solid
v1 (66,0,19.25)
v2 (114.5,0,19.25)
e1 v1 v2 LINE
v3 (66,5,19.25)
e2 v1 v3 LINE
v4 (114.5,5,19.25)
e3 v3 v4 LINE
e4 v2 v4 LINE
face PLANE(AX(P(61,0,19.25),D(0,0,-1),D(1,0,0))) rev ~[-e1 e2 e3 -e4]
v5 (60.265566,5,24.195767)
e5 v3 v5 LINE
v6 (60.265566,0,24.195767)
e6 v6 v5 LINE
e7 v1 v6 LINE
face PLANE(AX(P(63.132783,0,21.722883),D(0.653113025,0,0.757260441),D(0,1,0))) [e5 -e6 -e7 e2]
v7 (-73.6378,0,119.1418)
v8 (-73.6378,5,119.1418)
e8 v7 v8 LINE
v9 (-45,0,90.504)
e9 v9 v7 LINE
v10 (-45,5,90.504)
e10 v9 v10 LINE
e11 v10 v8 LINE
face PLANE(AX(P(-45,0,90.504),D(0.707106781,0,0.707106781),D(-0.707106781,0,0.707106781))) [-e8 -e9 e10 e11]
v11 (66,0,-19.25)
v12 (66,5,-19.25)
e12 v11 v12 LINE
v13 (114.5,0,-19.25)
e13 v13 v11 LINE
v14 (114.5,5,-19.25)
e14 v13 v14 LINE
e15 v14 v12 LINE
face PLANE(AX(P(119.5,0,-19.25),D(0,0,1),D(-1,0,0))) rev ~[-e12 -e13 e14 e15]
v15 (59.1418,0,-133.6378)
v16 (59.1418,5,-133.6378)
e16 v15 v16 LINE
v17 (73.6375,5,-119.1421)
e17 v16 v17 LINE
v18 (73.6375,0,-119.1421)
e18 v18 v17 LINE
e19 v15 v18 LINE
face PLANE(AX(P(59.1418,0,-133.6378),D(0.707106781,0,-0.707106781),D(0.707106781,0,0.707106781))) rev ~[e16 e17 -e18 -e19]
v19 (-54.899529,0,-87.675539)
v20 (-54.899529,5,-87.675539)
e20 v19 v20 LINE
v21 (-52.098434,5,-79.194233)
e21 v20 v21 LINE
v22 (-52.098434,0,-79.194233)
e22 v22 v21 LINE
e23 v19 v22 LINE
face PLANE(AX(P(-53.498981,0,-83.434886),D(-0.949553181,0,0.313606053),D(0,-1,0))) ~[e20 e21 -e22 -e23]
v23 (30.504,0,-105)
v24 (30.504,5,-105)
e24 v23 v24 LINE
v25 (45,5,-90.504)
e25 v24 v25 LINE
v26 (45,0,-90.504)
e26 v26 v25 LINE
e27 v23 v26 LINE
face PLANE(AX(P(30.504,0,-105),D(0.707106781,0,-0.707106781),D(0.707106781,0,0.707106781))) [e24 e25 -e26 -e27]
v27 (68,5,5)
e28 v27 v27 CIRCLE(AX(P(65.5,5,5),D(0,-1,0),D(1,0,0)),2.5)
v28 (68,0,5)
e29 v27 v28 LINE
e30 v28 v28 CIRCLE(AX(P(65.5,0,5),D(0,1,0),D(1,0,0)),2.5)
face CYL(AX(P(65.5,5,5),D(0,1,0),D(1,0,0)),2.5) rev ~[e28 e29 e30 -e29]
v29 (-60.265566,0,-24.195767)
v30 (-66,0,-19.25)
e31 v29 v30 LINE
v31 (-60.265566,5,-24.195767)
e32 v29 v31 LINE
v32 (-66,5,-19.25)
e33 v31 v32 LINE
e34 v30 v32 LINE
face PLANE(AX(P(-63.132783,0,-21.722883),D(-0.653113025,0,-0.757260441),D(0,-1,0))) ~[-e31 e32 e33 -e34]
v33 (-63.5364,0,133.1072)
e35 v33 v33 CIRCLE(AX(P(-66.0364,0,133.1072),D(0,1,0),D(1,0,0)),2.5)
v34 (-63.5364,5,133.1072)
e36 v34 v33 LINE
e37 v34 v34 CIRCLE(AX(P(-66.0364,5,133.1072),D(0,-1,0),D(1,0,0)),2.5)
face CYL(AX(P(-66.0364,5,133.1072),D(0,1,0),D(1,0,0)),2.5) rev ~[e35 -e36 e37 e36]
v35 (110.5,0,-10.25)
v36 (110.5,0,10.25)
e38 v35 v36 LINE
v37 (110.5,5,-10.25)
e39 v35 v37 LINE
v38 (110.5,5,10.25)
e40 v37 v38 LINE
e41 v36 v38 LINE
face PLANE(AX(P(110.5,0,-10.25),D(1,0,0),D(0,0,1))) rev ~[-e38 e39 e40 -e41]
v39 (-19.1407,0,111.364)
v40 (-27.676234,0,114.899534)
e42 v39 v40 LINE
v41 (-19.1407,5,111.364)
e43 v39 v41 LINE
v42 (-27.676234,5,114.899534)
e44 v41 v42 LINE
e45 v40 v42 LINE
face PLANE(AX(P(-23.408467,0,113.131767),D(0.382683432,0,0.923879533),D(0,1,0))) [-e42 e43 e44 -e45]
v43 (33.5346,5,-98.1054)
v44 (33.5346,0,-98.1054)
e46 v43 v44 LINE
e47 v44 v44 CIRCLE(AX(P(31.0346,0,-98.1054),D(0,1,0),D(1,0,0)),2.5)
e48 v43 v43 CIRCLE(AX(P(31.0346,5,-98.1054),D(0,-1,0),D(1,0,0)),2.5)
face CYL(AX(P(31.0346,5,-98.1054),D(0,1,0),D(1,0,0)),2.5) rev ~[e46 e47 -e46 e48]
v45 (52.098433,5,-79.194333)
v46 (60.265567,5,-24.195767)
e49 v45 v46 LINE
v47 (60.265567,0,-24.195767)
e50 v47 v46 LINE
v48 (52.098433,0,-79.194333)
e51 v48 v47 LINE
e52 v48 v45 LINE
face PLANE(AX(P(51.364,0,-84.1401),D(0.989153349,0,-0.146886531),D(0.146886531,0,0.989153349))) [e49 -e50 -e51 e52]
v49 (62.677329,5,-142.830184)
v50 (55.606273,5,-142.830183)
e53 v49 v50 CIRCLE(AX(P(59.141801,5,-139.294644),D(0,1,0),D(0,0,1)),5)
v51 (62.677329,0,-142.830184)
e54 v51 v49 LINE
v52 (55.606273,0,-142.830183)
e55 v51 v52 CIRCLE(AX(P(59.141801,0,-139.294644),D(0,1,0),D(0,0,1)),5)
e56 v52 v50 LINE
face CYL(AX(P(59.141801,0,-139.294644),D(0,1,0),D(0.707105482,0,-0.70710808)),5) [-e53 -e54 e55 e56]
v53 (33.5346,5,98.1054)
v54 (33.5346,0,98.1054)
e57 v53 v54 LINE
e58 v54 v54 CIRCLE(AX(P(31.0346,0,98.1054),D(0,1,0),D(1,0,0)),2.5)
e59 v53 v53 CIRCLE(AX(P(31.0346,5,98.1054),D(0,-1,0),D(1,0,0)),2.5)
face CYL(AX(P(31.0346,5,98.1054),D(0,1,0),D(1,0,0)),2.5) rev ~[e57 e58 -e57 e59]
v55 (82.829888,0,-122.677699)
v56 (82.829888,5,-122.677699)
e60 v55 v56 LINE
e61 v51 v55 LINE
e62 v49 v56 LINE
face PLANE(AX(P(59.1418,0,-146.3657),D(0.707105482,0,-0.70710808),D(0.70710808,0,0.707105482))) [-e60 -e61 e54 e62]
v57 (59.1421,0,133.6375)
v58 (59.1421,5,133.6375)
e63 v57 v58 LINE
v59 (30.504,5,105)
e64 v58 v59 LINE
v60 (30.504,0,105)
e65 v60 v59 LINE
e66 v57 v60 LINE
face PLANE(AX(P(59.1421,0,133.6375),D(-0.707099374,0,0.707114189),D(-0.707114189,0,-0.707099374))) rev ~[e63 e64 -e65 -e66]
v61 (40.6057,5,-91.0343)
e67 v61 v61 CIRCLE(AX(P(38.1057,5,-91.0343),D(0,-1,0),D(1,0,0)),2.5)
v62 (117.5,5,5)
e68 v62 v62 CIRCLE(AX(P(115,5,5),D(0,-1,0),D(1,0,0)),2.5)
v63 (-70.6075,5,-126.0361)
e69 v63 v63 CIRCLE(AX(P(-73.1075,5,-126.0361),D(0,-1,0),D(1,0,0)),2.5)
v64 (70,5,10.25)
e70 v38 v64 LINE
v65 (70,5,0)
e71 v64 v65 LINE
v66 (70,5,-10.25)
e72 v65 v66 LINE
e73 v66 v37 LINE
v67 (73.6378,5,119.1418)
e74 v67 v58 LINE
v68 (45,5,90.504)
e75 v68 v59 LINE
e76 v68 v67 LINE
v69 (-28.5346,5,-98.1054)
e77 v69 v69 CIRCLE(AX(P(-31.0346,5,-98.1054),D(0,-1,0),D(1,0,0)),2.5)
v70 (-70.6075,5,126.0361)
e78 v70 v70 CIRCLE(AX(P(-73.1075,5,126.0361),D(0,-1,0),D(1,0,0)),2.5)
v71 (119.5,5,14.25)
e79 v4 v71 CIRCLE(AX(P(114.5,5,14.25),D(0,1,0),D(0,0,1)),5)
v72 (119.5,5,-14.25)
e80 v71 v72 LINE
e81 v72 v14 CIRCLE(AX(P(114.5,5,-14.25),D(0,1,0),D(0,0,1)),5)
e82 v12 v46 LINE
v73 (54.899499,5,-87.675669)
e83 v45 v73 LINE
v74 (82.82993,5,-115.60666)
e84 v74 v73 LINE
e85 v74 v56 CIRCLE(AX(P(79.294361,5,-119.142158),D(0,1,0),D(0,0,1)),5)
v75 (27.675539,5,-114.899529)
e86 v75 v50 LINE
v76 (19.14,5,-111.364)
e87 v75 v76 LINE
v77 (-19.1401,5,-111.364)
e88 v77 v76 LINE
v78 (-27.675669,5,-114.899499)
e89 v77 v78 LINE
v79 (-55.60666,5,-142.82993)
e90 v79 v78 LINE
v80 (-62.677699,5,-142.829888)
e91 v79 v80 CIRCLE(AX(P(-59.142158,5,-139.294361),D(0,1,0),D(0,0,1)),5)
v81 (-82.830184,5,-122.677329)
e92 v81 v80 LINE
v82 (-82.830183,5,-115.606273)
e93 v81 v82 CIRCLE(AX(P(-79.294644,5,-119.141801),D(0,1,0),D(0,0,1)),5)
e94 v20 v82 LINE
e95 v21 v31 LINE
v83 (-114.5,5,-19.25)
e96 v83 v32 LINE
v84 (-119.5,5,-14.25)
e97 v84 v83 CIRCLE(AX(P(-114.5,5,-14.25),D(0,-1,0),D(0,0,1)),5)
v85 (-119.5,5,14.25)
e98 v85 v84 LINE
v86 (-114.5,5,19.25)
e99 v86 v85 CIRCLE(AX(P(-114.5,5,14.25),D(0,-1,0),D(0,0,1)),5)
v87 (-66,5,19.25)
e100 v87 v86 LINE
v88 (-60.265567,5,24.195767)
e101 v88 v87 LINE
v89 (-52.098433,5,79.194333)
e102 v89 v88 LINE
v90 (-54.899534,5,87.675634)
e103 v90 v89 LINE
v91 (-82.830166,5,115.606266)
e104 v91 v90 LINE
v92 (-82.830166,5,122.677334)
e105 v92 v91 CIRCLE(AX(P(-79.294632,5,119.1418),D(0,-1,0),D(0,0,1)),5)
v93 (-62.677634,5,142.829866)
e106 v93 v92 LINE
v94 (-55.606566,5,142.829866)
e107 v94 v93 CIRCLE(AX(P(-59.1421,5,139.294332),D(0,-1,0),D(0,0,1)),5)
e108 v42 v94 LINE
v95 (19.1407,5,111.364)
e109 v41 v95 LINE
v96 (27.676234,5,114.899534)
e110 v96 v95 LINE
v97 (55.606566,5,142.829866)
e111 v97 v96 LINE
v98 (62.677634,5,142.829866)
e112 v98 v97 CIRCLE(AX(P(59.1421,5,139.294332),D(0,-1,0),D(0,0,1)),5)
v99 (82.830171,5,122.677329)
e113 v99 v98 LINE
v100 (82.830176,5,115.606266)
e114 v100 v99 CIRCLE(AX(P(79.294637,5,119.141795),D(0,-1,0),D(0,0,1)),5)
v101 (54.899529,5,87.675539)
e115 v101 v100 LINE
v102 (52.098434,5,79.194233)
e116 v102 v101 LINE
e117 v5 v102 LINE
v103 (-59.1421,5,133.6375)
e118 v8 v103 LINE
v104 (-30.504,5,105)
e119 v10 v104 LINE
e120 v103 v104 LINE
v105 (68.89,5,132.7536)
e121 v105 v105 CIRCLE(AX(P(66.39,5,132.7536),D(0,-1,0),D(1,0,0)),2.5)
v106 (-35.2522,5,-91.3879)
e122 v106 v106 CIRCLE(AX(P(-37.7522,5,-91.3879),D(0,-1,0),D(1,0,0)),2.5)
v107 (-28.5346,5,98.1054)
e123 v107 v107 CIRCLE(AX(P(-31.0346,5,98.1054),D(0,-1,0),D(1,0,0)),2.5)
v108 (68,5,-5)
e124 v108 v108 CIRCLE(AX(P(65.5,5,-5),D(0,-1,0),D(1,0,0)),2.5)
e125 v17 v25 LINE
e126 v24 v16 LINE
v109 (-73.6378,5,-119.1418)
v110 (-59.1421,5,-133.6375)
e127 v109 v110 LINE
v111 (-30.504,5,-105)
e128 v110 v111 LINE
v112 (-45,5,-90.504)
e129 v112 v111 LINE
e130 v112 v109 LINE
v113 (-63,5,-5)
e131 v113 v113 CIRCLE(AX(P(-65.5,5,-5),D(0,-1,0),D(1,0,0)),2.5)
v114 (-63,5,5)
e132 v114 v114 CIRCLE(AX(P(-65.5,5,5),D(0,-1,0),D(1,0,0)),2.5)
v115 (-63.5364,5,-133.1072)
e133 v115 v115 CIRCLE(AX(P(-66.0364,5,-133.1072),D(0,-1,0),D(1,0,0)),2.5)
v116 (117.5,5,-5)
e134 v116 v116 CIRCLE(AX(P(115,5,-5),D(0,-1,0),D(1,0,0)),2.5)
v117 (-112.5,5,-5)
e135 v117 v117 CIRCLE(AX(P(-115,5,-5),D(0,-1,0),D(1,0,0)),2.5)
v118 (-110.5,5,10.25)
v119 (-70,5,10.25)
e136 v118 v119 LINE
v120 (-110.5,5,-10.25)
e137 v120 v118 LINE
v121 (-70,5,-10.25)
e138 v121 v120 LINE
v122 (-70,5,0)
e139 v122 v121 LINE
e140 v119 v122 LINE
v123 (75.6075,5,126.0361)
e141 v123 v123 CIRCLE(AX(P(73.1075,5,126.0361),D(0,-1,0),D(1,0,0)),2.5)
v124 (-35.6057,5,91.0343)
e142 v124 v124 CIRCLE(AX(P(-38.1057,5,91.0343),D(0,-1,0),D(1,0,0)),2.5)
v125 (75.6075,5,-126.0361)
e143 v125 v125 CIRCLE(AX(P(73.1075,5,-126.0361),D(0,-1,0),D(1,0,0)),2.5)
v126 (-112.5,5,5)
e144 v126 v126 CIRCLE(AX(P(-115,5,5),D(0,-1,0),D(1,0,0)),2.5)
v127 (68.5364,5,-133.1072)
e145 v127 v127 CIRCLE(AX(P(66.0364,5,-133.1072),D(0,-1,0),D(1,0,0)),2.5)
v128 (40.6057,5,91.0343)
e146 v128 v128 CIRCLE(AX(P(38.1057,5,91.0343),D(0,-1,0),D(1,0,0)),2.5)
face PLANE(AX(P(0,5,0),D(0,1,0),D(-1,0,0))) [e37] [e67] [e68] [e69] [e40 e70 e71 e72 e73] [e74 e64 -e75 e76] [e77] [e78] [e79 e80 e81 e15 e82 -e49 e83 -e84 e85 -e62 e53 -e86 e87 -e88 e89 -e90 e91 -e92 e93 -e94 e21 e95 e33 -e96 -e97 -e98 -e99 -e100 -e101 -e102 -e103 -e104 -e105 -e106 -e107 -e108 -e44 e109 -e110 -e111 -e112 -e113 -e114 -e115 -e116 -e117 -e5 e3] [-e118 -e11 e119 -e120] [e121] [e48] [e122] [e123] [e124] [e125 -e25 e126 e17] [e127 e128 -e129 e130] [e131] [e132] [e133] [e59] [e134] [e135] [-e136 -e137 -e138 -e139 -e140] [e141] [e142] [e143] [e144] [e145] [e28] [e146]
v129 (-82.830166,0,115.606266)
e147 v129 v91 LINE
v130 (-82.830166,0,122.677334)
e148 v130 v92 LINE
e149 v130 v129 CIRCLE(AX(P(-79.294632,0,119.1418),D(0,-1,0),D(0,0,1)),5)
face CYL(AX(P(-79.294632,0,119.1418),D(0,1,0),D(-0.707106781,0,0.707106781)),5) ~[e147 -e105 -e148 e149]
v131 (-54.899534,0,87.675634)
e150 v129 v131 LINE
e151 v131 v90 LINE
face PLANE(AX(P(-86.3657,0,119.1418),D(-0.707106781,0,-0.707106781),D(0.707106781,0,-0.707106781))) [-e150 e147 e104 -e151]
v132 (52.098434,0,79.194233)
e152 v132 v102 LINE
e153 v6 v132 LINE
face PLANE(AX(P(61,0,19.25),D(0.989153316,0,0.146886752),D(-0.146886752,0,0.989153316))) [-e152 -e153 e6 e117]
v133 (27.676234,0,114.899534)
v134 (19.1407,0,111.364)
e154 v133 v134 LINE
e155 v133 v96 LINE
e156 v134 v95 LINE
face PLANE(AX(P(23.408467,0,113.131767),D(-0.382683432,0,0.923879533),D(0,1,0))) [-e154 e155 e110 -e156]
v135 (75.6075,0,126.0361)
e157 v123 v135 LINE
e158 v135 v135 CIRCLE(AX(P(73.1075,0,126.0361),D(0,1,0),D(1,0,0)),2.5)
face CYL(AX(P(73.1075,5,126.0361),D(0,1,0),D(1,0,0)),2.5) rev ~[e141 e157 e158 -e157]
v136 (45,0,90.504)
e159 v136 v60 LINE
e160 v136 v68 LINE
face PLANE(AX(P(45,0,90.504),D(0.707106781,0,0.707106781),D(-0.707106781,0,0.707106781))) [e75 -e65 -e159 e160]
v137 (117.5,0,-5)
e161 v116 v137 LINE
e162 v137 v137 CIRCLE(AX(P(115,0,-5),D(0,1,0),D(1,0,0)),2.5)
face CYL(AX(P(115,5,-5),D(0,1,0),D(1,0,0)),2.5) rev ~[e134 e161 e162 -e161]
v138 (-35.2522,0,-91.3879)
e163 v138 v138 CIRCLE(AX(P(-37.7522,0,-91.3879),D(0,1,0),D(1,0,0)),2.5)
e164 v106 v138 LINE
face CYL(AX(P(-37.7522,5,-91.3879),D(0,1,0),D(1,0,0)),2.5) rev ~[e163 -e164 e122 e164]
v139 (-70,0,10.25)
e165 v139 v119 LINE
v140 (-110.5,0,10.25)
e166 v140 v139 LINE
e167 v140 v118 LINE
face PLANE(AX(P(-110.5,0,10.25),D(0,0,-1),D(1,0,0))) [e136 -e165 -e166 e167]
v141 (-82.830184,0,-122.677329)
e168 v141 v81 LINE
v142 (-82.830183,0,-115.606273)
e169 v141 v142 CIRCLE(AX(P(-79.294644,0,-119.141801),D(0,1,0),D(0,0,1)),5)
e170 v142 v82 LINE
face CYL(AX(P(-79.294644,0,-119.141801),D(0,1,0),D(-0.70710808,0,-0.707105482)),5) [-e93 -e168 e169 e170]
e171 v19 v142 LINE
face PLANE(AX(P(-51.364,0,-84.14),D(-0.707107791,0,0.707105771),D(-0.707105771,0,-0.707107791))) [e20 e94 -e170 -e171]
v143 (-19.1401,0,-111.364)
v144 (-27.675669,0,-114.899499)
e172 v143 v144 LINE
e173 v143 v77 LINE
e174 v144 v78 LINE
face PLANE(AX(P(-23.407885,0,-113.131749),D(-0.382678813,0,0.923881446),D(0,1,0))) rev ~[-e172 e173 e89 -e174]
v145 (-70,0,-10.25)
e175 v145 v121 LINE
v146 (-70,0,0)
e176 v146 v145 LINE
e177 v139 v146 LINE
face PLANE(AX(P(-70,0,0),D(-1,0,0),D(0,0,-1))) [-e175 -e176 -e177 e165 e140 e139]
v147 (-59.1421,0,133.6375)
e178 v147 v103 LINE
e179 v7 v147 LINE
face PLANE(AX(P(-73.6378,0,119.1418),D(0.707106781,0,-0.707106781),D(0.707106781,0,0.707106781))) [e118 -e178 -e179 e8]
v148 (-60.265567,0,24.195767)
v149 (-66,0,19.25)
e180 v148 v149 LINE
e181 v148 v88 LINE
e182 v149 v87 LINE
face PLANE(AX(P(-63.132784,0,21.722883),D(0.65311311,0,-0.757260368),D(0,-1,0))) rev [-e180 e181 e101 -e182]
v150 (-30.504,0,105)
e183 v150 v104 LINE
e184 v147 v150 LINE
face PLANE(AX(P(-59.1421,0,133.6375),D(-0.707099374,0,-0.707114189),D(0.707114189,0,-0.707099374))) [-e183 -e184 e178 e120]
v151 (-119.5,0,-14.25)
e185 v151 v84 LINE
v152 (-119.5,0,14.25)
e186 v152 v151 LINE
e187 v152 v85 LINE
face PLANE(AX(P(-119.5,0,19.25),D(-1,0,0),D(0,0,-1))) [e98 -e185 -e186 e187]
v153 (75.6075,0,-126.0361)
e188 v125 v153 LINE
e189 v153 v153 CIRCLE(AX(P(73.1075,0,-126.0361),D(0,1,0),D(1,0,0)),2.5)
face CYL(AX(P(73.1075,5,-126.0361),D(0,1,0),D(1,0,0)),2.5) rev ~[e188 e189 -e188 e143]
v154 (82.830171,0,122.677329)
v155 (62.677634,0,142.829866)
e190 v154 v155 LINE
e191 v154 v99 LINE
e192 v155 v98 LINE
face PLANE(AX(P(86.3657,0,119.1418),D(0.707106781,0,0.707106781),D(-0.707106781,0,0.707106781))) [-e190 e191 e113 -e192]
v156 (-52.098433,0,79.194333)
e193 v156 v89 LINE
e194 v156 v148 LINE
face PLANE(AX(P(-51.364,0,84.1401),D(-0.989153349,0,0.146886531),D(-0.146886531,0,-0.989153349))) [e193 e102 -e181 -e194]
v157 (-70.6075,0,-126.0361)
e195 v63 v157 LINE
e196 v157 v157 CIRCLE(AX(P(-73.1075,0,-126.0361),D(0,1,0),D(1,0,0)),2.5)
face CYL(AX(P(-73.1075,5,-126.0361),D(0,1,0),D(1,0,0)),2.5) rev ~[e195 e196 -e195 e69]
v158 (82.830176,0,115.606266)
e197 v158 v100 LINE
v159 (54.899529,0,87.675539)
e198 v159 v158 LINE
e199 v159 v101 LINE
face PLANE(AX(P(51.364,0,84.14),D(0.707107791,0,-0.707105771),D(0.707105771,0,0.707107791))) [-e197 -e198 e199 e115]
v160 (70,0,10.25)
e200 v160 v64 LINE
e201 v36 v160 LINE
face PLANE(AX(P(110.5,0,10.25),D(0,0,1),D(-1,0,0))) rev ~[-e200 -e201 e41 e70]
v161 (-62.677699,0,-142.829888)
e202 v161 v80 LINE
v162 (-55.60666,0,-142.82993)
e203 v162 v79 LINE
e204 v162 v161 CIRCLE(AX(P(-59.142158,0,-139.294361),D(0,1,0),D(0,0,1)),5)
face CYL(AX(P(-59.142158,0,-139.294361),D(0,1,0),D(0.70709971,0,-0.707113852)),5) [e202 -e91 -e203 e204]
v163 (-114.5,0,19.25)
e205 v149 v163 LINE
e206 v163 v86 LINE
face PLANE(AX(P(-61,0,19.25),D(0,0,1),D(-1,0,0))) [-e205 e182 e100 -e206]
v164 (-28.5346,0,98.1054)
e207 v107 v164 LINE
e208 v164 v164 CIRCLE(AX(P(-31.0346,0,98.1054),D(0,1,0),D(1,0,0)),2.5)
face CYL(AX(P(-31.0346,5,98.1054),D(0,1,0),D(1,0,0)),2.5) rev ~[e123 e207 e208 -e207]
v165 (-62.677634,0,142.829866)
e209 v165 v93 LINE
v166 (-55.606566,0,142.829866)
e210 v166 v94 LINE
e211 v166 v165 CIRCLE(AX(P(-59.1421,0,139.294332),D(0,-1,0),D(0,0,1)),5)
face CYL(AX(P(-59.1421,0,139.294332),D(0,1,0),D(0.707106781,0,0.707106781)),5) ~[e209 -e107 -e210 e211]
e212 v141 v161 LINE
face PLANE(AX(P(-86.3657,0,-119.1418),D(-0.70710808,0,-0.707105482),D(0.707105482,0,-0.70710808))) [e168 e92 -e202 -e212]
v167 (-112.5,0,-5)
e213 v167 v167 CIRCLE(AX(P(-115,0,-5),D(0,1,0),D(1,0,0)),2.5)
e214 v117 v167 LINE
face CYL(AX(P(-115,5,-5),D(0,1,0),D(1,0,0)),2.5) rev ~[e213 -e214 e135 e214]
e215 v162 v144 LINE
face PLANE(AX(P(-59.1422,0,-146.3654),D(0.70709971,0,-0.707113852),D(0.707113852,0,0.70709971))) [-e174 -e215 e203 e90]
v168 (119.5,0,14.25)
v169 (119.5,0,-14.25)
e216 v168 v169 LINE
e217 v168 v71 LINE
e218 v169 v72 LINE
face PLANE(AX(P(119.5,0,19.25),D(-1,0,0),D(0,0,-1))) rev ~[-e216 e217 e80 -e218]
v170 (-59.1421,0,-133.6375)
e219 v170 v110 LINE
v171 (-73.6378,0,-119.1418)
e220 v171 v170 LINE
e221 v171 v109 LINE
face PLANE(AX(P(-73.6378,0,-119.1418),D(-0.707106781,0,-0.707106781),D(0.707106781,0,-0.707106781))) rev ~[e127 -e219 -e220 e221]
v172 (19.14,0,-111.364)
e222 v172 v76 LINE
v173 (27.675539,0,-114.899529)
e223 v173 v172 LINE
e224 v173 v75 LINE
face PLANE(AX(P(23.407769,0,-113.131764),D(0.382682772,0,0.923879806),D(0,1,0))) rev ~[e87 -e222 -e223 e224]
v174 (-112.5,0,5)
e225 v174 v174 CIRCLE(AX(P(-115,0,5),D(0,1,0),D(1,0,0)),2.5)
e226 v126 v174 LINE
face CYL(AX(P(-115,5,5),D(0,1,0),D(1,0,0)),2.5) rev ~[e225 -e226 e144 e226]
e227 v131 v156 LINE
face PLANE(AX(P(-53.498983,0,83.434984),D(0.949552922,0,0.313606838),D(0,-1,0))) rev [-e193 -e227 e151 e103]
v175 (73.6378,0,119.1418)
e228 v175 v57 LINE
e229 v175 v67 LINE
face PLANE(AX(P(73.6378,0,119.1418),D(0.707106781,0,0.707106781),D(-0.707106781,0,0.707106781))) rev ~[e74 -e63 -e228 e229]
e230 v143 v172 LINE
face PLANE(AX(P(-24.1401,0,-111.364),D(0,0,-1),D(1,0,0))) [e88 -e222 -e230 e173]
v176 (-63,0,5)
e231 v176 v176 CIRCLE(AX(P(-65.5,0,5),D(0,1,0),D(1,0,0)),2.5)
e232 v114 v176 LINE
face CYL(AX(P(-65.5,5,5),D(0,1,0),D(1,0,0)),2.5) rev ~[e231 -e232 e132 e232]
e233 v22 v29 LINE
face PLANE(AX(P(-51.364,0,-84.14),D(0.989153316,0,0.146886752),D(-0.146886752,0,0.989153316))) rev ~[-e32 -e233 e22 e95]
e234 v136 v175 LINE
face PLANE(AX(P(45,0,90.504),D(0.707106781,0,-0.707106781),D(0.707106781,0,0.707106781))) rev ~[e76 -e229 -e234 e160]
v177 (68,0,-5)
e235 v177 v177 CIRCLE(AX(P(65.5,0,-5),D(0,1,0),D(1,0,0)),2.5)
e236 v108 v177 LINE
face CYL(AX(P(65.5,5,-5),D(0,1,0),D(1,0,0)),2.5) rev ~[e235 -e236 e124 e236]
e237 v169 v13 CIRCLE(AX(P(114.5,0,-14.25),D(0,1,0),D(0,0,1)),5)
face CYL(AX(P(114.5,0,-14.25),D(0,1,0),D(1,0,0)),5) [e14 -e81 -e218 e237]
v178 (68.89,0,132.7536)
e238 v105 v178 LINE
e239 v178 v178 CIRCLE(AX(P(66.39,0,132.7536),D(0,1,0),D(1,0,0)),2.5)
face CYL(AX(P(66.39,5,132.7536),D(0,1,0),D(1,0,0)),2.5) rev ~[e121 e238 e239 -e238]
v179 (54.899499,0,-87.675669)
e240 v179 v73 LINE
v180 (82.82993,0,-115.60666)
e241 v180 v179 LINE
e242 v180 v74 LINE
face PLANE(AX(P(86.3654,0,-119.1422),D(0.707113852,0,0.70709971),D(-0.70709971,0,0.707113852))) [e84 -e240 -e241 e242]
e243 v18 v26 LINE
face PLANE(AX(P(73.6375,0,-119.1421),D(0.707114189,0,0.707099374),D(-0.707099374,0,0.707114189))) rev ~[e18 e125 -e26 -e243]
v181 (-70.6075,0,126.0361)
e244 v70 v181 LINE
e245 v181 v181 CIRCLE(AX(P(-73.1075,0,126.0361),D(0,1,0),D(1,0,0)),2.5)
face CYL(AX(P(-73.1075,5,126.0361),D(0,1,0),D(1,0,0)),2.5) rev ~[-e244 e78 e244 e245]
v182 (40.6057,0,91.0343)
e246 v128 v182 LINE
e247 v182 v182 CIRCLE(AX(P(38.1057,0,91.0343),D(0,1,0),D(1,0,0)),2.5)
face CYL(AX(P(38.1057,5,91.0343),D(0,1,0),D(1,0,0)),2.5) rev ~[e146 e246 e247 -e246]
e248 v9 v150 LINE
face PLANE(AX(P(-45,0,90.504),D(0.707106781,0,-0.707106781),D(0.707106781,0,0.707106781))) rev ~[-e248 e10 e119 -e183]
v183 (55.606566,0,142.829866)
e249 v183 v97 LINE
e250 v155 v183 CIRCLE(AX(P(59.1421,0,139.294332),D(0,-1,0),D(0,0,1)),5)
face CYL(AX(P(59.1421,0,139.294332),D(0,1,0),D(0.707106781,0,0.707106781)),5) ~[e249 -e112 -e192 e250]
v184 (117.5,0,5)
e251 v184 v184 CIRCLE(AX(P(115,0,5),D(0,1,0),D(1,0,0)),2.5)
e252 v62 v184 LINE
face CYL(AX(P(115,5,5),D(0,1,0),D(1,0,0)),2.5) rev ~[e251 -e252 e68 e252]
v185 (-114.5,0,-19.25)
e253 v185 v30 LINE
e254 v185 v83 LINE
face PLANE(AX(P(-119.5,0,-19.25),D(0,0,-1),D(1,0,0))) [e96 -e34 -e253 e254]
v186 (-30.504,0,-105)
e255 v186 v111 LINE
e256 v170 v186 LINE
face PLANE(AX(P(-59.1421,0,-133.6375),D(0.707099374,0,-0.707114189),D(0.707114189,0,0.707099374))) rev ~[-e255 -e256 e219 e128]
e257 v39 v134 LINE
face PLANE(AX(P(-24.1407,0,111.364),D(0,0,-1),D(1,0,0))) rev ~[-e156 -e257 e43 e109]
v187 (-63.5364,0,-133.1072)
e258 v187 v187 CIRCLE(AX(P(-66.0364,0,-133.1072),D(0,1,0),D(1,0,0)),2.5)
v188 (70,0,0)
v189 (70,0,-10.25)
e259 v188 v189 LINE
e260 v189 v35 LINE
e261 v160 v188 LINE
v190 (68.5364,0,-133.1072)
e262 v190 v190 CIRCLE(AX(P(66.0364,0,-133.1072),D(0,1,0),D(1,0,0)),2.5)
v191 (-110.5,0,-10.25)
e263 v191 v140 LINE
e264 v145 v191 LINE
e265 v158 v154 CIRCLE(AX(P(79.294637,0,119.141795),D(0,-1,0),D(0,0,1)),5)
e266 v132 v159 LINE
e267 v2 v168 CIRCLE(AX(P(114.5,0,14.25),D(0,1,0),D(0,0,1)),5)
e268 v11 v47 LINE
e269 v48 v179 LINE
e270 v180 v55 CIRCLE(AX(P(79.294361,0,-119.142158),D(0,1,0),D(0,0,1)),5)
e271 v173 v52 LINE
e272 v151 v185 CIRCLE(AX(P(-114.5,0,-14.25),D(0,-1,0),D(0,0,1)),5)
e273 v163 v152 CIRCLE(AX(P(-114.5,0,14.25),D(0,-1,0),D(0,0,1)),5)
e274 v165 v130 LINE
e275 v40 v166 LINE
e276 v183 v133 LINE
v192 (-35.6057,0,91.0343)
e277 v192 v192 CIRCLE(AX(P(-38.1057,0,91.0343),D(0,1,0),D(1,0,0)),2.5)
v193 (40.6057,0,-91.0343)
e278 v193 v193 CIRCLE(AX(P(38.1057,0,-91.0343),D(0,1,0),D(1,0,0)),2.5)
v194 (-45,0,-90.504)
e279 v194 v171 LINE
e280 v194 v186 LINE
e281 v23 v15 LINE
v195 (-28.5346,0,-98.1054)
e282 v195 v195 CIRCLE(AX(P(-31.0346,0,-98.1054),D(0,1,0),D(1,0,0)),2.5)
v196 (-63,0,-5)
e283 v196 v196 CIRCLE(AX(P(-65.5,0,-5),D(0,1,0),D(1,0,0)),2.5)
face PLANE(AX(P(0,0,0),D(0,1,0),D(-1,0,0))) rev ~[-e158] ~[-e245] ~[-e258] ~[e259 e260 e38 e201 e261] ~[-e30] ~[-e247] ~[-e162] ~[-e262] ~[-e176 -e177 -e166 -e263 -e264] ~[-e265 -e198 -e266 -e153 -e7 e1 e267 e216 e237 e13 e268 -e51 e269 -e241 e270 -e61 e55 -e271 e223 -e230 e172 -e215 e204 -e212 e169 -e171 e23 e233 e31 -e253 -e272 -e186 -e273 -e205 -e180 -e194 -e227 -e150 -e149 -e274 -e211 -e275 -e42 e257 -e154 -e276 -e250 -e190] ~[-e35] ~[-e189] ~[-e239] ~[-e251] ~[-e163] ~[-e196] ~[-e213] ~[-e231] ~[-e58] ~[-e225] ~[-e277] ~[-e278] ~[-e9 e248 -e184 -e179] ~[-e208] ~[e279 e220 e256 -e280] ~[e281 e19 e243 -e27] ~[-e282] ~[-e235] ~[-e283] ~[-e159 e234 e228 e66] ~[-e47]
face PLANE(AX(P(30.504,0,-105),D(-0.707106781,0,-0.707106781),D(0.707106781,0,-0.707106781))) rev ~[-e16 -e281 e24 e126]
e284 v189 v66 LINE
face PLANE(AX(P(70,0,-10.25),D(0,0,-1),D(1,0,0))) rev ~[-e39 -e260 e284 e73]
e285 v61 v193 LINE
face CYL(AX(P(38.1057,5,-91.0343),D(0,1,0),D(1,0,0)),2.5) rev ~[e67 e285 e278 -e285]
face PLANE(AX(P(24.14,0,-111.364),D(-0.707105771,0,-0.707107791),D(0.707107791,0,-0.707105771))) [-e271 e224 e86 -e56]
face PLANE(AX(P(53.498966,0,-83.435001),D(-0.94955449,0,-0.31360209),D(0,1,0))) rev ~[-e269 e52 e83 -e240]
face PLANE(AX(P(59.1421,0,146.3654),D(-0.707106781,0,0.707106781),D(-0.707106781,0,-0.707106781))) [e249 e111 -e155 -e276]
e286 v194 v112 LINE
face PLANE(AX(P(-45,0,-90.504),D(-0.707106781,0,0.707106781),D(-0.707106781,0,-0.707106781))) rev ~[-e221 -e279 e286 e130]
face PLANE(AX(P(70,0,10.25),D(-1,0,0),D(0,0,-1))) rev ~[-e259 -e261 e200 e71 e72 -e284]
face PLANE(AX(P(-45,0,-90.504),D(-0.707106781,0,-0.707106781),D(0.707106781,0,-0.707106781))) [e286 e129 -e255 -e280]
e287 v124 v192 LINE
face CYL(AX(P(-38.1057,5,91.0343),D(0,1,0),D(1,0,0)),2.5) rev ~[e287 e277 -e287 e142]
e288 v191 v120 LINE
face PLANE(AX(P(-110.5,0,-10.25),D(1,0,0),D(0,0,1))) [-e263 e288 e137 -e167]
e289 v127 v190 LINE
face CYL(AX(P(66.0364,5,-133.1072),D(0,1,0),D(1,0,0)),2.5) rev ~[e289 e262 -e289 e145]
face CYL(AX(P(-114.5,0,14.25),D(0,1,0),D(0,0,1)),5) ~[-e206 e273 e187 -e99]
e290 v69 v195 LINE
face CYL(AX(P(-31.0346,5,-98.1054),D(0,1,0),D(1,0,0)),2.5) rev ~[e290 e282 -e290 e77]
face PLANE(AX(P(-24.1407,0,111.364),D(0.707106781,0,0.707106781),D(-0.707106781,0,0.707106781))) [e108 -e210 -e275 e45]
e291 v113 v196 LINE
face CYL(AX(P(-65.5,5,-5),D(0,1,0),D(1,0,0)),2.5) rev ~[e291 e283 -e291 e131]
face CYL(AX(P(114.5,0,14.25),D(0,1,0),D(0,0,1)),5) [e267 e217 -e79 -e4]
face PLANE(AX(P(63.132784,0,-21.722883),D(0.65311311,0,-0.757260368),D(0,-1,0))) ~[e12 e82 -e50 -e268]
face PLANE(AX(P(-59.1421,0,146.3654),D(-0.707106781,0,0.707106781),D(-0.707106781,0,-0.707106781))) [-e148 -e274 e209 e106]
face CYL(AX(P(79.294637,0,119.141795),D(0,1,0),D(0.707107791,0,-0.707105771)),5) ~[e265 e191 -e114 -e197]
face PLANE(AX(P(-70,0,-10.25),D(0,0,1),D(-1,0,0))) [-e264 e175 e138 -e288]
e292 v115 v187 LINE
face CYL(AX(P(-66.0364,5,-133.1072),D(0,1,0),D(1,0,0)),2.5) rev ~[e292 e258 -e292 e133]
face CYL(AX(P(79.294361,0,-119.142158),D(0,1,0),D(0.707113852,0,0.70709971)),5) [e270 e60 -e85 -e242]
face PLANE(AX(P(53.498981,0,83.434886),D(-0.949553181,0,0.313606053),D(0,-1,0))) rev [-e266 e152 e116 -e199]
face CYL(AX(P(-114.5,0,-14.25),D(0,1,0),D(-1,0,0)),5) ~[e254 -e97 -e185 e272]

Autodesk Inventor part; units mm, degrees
ref_plane "YZ Plane" through (0, 0, 0) normal (1, 0, 0) x (0, 1, 0)
ref_plane "XZ Plane" through (0, 0, 0) normal (0, 1, 0) x (-1, 0, 0)
ref_plane "XY Plane" through (0, 0, 0) normal (0, 0, 1) x (1, 0, 0)
sketch "Sketch1" plane through (0, 0, 0) normal (0, 1, 0) x (-1, 0, 0)
  line L0 (45, 105) -> (-45, 105)
  line L1 (-45, 105) -> (-45, -105)
  line L2 (-45, -105) -> (45, -105)
  line L3 (45, -105) -> (45, 105)
  line L4 (45, 105) -> (-45, -105) construction
  line L5 (-45, 105) -> (45, -105) construction
  line L6 (-45, 0) -> (-70, 0)
  line L7 (45, 0) -> (70, 0)
  line L8 (45, -105) -> (30.504, -105)
  line L9 (45, -105) -> (45, -90.504)
  line L10 (45, 105) -> (45, 90.504)
  line L11 (45, 105) -> (30.504, 105)
  line L12 (-45, 105) -> (-30.504, 105)
  line L13 (-45, 105) -> (-45, 90.504)
  line L14 (-45, -105) -> (-45, -90.504)
  line L15 (-45, -105) -> (-30.504, -105)
  line L16 (-30.504, -105) -> (-45, -90.504)
  line L17 (-45, 90.504) -> (-30.504, 105)
  line L18 (45, 90.504) -> (30.504, 105)
  line L19 (45, -90.504) -> (30.504, -105)
  line L20 (-30.504, -105) -> (-59.1418, -133.6378)
  line L21 (-30.504, -105) -> (9.996, -105) construction
  line L22 (-59.1418, -133.6378) -> (-73.6375, -119.1421)
  line L23 (-73.6375, -119.1421) -> (-45, -90.504)
  line L24 (-70, 0) -> (-70, -10.25)
  line L25 (-70, -10.25) -> (-110.5, -10.25)
  line L26 (-110.5, -10.25) -> (-110.5, 10.25)
  line L27 (-110.5, 10.25) -> (-70, 10.25)
  line L28 (-70, 10.25) -> (-70, 0)
  line L29 (-45, 90.504) -> (-73.6378, 119.1418)
  line L30 (-45, 90.504) -> (-4.5, 90.504) construction
  line L31 (-73.6378, 119.1418) -> (-59.1421, 133.6375)
  line L32 (-59.1421, 133.6375) -> (-30.5046, 105)
  line L33 (45, 90.504) -> (73.6378, 119.1418)
  line L34 (45, 90.504) -> (85.5, 90.504) construction
  line L35 (73.6378, 119.1418) -> (59.1421, 133.6375)
  line L36 (59.1421, 133.6375) -> (30.5046, 105)
  line L37 (45, -90.504) -> (73.6378, -119.1418)
  line L38 (45, -90.504) -> (85.5, -90.504) construction
  line L39 (73.6378, -119.1418) -> (59.1421, -133.6375)
  line L40 (59.1421, -133.6375) -> (30.504, -105)
  line L41 (70, 0) -> (70, -10.25)
  line L42 (70, -10.25) -> (110.5, -10.25)
  line L43 (110.5, -10.25) -> (110.5, 10.25)
  line L44 (110.5, 10.25) -> (70, 10.25)
  line L45 (70, 10.25) -> (70, 0)
  line L46 (119.5, -19.25) -> (61, -19.25)
  line L47 (61, -19.25) -> (61, 0)
  line L48 (61, 0) -> (61, 19.25)
  line L49 (61, 19.25) -> (119.5, 19.25)
  line L50 (119.5, 19.25) -> (119.5, -19.25)
  line L51 (51.364, -84.14) -> (86.3657, -119.1418)
  line L52 (86.3657, -119.1418) -> (59.1422, -146.3654)
  line L53 (59.1422, -146.3654) -> (24.1401, -111.364)
  line L54 (-24.14, -111.364) -> (-59.1418, -146.3657)
  line L55 (-59.1418, -146.3657) -> (-86.3654, -119.1422)
  line L56 (-86.3654, -119.1422) -> (-51.364, -84.1401)
  line L57 (-119.5, -19.25) -> (-61, -19.25)
  line L58 (-61, -19.25) -> (-61, 0)
  line L59 (-61, 0) -> (-61, 19.25)
  line L60 (-61, 19.25) -> (-119.5, 19.25)
  line L61 (-119.5, 19.25) -> (-119.5, -19.25)
  line L62 (-51.364, 84.14) -> (-86.3657, 119.1418)
  line L63 (-86.3657, 119.1418) -> (-59.1421, 146.3654)
  line L64 (-59.1421, 146.3654) -> (-24.1407, 111.364)
  line L65 (24.1407, 111.364) -> (59.1421, 146.3654)
  line L66 (59.1421, 146.3654) -> (86.3657, 119.1418)
  line L67 (86.3657, 119.1418) -> (51.364, 84.1401)
  line L68 (51.364, -84.14) -> (61, -19.25)
  line L69 (24.1401, -111.364) -> (-24.1401, -111.364)
  line L70 (-51.364, -84.1401) -> (-61, -19.25)
  line L71 (-61, 19.25) -> (-51.364, 84.14)
  line L72 (24.1407, 111.364) -> (-24.1407, 111.364)
  line L73 (51.364, 84.1401) -> (61, 19.25)
  point P0 (0, 0)
  dimension "d0" = 90
  dimension "d1" = 210
  dimension "d2" = 25
  dimension "d3" = 25
  dimension "d4" = 14.496
  dimension "d5" = 14.496
  dimension "d6" = 14.496
  dimension "d7" = 14.496
  dimension "d8" = 14.496
  dimension "d9" = 14.496
  dimension "d10" = 14.496
  dimension "d11" = 14.496
  dimension "d12" = 40.5
  dimension "d13" = 135
  dimension "d14" = 20.5
  dimension "d15" = 10.25
  dimension "d16" = 40.5
  dimension "d17" = 20.5
  dimension "d18" = 40.5
  dimension "d19" = 40.5
  dimension "d20" = 135
  dimension "d21" = 20.5
  dimension "d22" = 40.5
  dimension "d23" = 45
  dimension "d24" = 20.5
  dimension "d25" = 40.5
  dimension "d26" = 45
  dimension "d27" = 20.5
  dimension "d28" = 10.25
  dimension "d29" = 40.5
  dimension "d30" = 20.5
  dimension "d31" = 9
  dimension "d32" = 9
  dimension "d33" = 9
  dimension "d34" = 9
  dimension "d35" = 9
  dimension "d36" = 9
extrude "Extrusion1" add sketch "Sketch1" along normal blind 5 contours L18 L3 L19 L2 L16 L1 L17 L0 | L0 L32 L31 L29 L1 L6 L59 L71 L62 L63 L64 L72 L65 L66 L67 L73 L48 L7 L3 L33 L35 L36 | L7 L47 L68 L51 L52 L53 L69 L54 L55 L56 L70 L58 L6 L1 L23 L22 L20 L2 L40 L39 L37 L3 | L48 L49 L50 L46 L47 | L58 L57 L61 L60 L59
sketch "Sketch2" plane through (0, 5, 0) normal (0, 1, 0) x (1, 0, 0)
  line L0 (-30.504, -105) -> (-30.5046, -105) projected
  line L1 (-30.5046, -105) -> (-59.1421, -133.6375) projected
  line L2 (-59.1421, -133.6375) -> (-73.6378, -119.1418) projected
  line L3 (-73.6378, -119.1418) -> (-45, -90.504) projected
  line L4 (-45, -90.504) -> (-30.504, -105) projected
  line L5 (-45, 90.504) -> (-73.6378, 119.1418) projected
  line L6 (-73.6378, 119.1418) -> (-59.1421, 133.6375) projected
  line L7 (-59.1421, 133.6375) -> (-30.504, 105) projected
  line L8 (-30.504, 105) -> (-45, 90.504) projected
  line L9 (30.504, 105) -> (59.1418, 133.6378) projected
  line L10 (59.1418, 133.6378) -> (73.6375, 119.1421) projected
  line L11 (73.6375, 119.1421) -> (45, 90.504) projected
  line L12 (45, 90.504) -> (30.504, 105) projected
  line L13 (70, 10.25) -> (110.5, 10.25) projected
  line L14 (110.5, 10.25) -> (110.5, -10.25) projected
  line L15 (110.5, -10.25) -> (70, -10.25) projected
  line L16 (70, -10.25) -> (70, 10.25) projected
  line L17 (-70, -10.25) -> (-110.5, -10.25) projected
  line L18 (-110.5, -10.25) -> (-110.5, 10.25) projected
  line L19 (-110.5, 10.25) -> (-70, 10.25) projected
  line L20 (-70, 10.25) -> (-70, -10.25) projected
  line L21 (-119.5, 19.25) -> (-119.5, -19.25) projected
  line L22 (-119.5, -19.25) -> (-61, -19.25) projected
  line L23 (-61, -19.25) -> (-51.364, -84.1401) projected
  line L24 (-51.364, -84.1401) -> (-86.3657, -119.1418) projected
  line L25 (-86.3657, -119.1418) -> (-59.1421, -146.3654) projected
  line L26 (-59.1421, -146.3654) -> (-24.1407, -111.364) projected
  line L27 (-24.1407, -111.364) -> (24.1407, -111.364) projected
  line L28 (24.1407, -111.364) -> (59.1421, -146.3654) projected
  line L29 (59.1421, -146.3654) -> (86.3657, -119.1418) projected
  line L30 (86.3657, -119.1418) -> (51.364, -84.14) projected
  line L31 (51.364, -84.14) -> (61, -19.25) projected
  line L32 (61, -19.25) -> (119.5, -19.25) projected
  line L33 (119.5, -19.25) -> (119.5, 19.25) projected
  line L34 (119.5, 19.25) -> (61, 19.25) projected
  line L35 (61, 19.25) -> (51.364, 84.1401) projected
  line L36 (51.364, 84.1401) -> (86.3654, 119.1422) projected
  line L37 (86.3654, 119.1422) -> (59.1418, 146.3657) projected
  line L38 (59.1418, 146.3657) -> (24.1401, 111.364) projected
  line L39 (24.1401, 111.364) -> (-24.1401, 111.364) projected
  line L40 (-24.1401, 111.364) -> (-59.1422, 146.3654) projected
  line L41 (-59.1422, 146.3654) -> (-86.3657, 119.1418) projected
  line L42 (-86.3657, 119.1418) -> (-51.364, 84.14) projected
  line L43 (-51.364, 84.14) -> (-61, 19.25) projected
  line L44 (-61, 19.25) -> (-119.5, 19.25) projected
  line L45 (30.504, -105) -> (45, -90.504) projected
  line L46 (45, -90.504) -> (73.6378, -119.1418) projected
  line L47 (73.6378, -119.1418) -> (59.1421, -133.6375) projected
  line L48 (59.1421, -133.6375) -> (30.5046, -105) projected
  line L49 (30.5046, -105) -> (30.504, -105) projected
  line L50 (-226.8598, -181.3552) -> (-267.3598, -181.3552)
  line L51 (-267.3598, -181.3552) -> (-267.3598, -160.8552)
  line L52 (-267.3598, -160.8552) -> (-226.8598, -160.8552)
  line L53 (-226.8598, -160.8552) -> (-226.8598, -181.3552)
  line L54 (-267.3598, -171.1052) -> (-271.8598, -171.1052)
  line L55 (-226.8598, -171.1052) -> (-222.3598, -171.1052)
  line L56 (-222.3598, -171.1052) -> (-222.3598, -166.1052)
  line L57 (-222.3598, -171.1052) -> (-222.3598, -176.1052)
  line L58 (-271.8598, -171.1052) -> (-271.8598, -166.1052)
  line L59 (-271.8598, -171.1052) -> (-271.8598, -176.1052)
  circle A0 centre (-271.8598, -166.1052) radius 2.5
  circle A1 centre (-271.8598, -176.1052) radius 2.5
  circle A2 centre (-222.3598, -166.1052) radius 2.5
  circle A3 centre (-222.3598, -176.1052) radius 2.5
  line L60 (-226.8598, -62.722) -> (-255.4976, -34.0841)
  line L61 (-255.4976, -34.0841) -> (-241.002, -19.5884)
  line L62 (-241.002, -19.5884) -> (-212.3641, -48.2263)
  line L63 (-212.3641, -48.2263) -> (-226.8598, -62.722)
  line L64 (-248.2498, -26.8363) -> (-251.4318, -23.6543)
  line L65 (-251.4318, -23.6543) -> (-247.8962, -20.1188)
  line L66 (-251.4318, -23.6543) -> (-254.9673, -27.1898)
  circle A4 centre (-247.8962, -20.1188) radius 2.5
  circle A5 centre (-254.9673, -27.1898) radius 2.5
  line L67 (-224.2263, 83.9693) -> (-252.8641, 55.3315)
  line L68 (-252.8641, 55.3315) -> (-267.3598, 69.8272)
  line L69 (-267.3598, 69.8272) -> (-238.722, 98.465)
  line L70 (-238.722, 98.465) -> (-224.2263, 83.9693)
  line L71 (-260.112, 62.5793) -> (-263.294, 59.3973)
  line L72 (-263.294, 59.3973) -> (-266.8295, 62.9329)
  line L73 (-263.294, 59.3973) -> (-259.7584, 55.8618)
  circle A6 centre (-266.8295, 62.9329) radius 2.5
  circle A7 centre (-259.7584, 55.8618) radius 2.5
  line L74 (-219.612, -55.4741) -> (-216.43, -58.6561)
  line L75 (-219.612, -55.4741) -> (-215.112, -55.4741) construction
  line L76 (-216.43, -58.6561) -> (-219.9655, -62.1916)
  line L77 (-216.43, -58.6561) -> (-211.43, -58.6561) construction
  line L78 (-216.43, -58.6561) -> (-212.8945, -55.1206)
  line L79 (-216.43, -58.6561) -> (-211.43, -58.6561) construction
  circle A8 centre (-219.612, -61.8381) radius 2.5
  circle A9 centre (-212.8945, -55.1206) radius 2.5
  line L80 (-231.4742, 91.2171) -> (-228.2922, 94.3991)
  line L81 (-231.4742, 91.2171) -> (-226.9742, 91.2171) construction
  line L82 (-228.2922, 94.3991) -> (-231.8277, 97.9347)
  line L83 (-228.2922, 94.3991) -> (-224.7566, 90.8636)
  circle A10 centre (-224.7566, 90.8636) radius 2.5
  circle A11 centre (-231.8277, 97.9347) radius 2.5
  line L84 (-110.5, 10.25) -> (-110.5, -10.25) projected
  line L85 (-73.6378, 119.1418) -> (-45, 90.504) projected
  line L86 (-59.1421, -133.6375) -> (-30.5046, -105) projected
  line L87 (73.6378, -119.1418) -> (45, -90.504) projected
  line L88 (70, 10.25) -> (70, -10.25) projected
  line L89 (110.5, 10.25) -> (70, 10.25) projected
  line L90 (45, 90.504) -> (73.6375, 119.1421) projected
  line L91 (45, 90.504) -> (30.504, 105) projected
  line L92 (59.1418, 133.6378) -> (30.504, 105) projected
  line L93 (-70, -10.25) -> (-110.5, -10.25)
  line L94 (-110.5, -10.25) -> (-110.5, 10.25)
  line L95 (-110.5, 10.25) -> (-70, 10.25)
  line L96 (-70, 10.25) -> (-70, -10.25)
  line L97 (-110.5, 0) -> (-115, 0)
  line L98 (-70, 0) -> (-65.5, 0)
  line L99 (-65.5, 0) -> (-65.5, 5)
  line L100 (-65.5, 0) -> (-65.5, -5)
  line L101 (-115, 0) -> (-115, 5)
  line L102 (-115, 0) -> (-115, -5)
  circle A12 centre (-115, 5) radius 2.5
  circle A13 centre (-115, -5) radius 2.5
  circle A14 centre (-65.5, 5) radius 2.5
  circle A15 centre (-65.5, -5) radius 2.5
  line L103 (110.5, -10.25) -> (70, -10.25)
  line L104 (70, -10.25) -> (70, 10.25)
  line L105 (70, 10.25) -> (110.5, 10.25)
  line L106 (110.5, 10.25) -> (110.5, -10.25)
  line L107 (70, 0) -> (65.5, 0)
  line L108 (110.5, 0) -> (115, 0)
  line L109 (115, 0) -> (115, 5)
  line L110 (115, 0) -> (115, -5)
  line L111 (65.5, 0) -> (65.5, 5)
  line L112 (65.5, 0) -> (65.5, -5)
  circle A16 centre (65.5, 5) radius 2.5
  circle A17 centre (65.5, -5) radius 2.5
  circle A18 centre (115, 5) radius 2.5
  circle A19 centre (115, -5) radius 2.5
  line L113 (-73.6378, 119.1418) -> (-59.1421, 133.6375)
  line L114 (-66.39, 126.3897) -> (-69.572, 129.5716)
  line L115 (-69.572, 129.5716) -> (-66.0364, 133.1072)
  line L116 (-69.572, 129.5716) -> (-73.1075, 126.0361)
  circle A20 centre (-66.0364, 133.1072) radius 2.5
  circle A21 centre (-73.1075, 126.0361) radius 2.5
  line L117 (-59.1421, 133.6375) -> (-30.5043, 104.9997)
  line L118 (-45, 90.504) -> (-73.6378, 119.1418)
  line L119 (-30.5043, 104.9997) -> (-45, 90.504)
  line L120 (-37.7522, 97.7518) -> (-34.5702, 94.5699)
  line L121 (-37.7522, 97.7518) -> (-33.2522, 97.7518) construction
  line L122 (-34.5702, 94.5699) -> (-38.1057, 91.0343)
  line L123 (-34.5702, 94.5699) -> (-29.5702, 94.5699) construction
  line L124 (-34.5702, 94.5699) -> (-31.0346, 98.1054)
  line L125 (-34.5702, 94.5699) -> (-29.5702, 94.5699) construction
  circle A22 centre (-37.7522, 91.3879) radius 2.5
  circle A23 centre (-31.0346, 98.1054) radius 2.5
  line L126 (30.5043, -104.9997) -> (45, -90.504)
  line L127 (37.7522, -97.7518) -> (34.5702, -94.5699)
  line L128 (34.5702, -94.5699) -> (38.1057, -91.0343)
  line L129 (34.5702, -94.5699) -> (31.0346, -98.1054)
  circle A24 centre (38.1057, -91.0343) radius 2.5
  circle A25 centre (31.0346, -98.1054) radius 2.5
  line L130 (45, -90.504) -> (73.6378, -119.1418)
  line L131 (59.1421, -133.6375) -> (30.5043, -104.9997)
  line L132 (73.6378, -119.1418) -> (59.1421, -133.6375)
  line L133 (66.39, -126.3897) -> (69.572, -129.5716)
  line L134 (66.39, -126.3897) -> (70.89, -126.3897) construction
  line L135 (69.572, -129.5716) -> (66.0364, -133.1072)
  line L136 (69.572, -129.5716) -> (74.572, -129.5716) construction
  line L137 (69.572, -129.5716) -> (73.1075, -126.0361)
  line L138 (69.572, -129.5716) -> (74.572, -129.5716) construction
  circle A26 centre (66.39, -132.7536) radius 2.5
  circle A27 centre (73.1075, -126.0361) radius 2.5
  line L139 (-59.1421, -133.6375) -> (-73.6378, -119.1418)
  line L140 (-66.39, -126.3897) -> (-69.572, -129.5716)
  line L141 (-69.572, -129.5716) -> (-73.1075, -126.0361)
  line L142 (-69.572, -129.5716) -> (-66.0364, -133.1072)
  circle A28 centre (-73.1075, -126.0361) radius 2.5
  circle A29 centre (-66.0364, -133.1072) radius 2.5
  line L143 (-73.6378, -119.1418) -> (-45, -90.504)
  line L144 (-30.5043, -104.9997) -> (-59.1421, -133.6375)
  line L145 (-45, -90.504) -> (-30.5043, -104.9997)
  line L146 (-37.7522, -97.7518) -> (-34.5702, -94.5699)
  line L147 (-37.7522, -97.7518) -> (-33.2522, -97.7518) construction
  line L148 (-34.5702, -94.5699) -> (-38.1057, -91.0343)
  line L149 (-34.5702, -94.5699) -> (-31.0346, -98.1054)
  circle A30 centre (-31.0346, -98.1054) radius 2.5
  circle A31 centre (-38.1057, -91.0343) radius 2.5
  line L150 (45, 90.504) -> (30.5043, 104.9997)
  line L151 (37.7522, 97.7518) -> (34.5702, 94.5699)
  line L152 (34.5702, 94.5699) -> (31.0346, 98.1054)
  line L153 (34.5702, 94.5699) -> (38.1057, 91.0343)
  circle A32 centre (31.0346, 98.1054) radius 2.5
  circle A33 centre (38.1057, 91.0343) radius 2.5
  line L154 (30.5043, 104.9997) -> (59.1421, 133.6375)
  line L155 (73.6378, 119.1418) -> (45, 90.504)
  line L156 (59.1421, 133.6375) -> (73.6378, 119.1418)
  line L157 (66.39, 126.3897) -> (69.572, 129.5716)
  line L158 (66.39, 126.3897) -> (70.89, 126.3897) construction
  line L159 (69.572, 129.5716) -> (66.0364, 133.1072)
  line L160 (69.572, 129.5716) -> (73.1075, 126.0361)
  circle A34 centre (73.1075, 126.0361) radius 2.5
  circle A35 centre (66.0364, 133.1072) radius 2.5
  point P0 (0, 0)
  dimension "d39" = 40.5
  dimension "d40" = 20.5
  dimension "d41" = 4.5
  dimension "d42" = 4.5
  dimension "d43" = 5
  dimension "d44" = 5
  dimension "d45" = 5
  dimension "d46" = 5
  dimension "d47" = 5
  dimension "d48" = 5
  dimension "d49" = 5
  dimension "d50" = 5
  dimension "d51" = 40.5
  dimension "d52" = 20.5
  dimension "d53" = 4.5
  dimension "d57" = 5
  dimension "d58" = 5
  dimension "d59" = 5
  dimension "d60" = 5
  dimension "d63" = 40.5
  dimension "d64" = 20.5
  dimension "d65" = 4.5
  dimension "d69" = 5
  dimension "d70" = 5
  dimension "d71" = 5
  dimension "d72" = 5
  dimension "d75" = 4.5
  dimension "d76" = 45
  dimension "d78" = 5
  dimension "d79" = 135
  dimension "d80" = 5
  dimension "d81" = 45
  dimension "d82" = 5
  dimension "d83" = 5
  dimension "d84" = 4.5
  dimension "d85" = 45
  dimension "d86" = 5
  dimension "d87" = 90
  dimension "d88" = 5
  dimension "d89" = 5
  dimension "d90" = 5
  dimension "d91" = 40.5
  dimension "d92" = 20.5
  dimension "d93" = 4.5
  dimension "d94" = 4.5
  dimension "d95" = 5
  dimension "d96" = 5
  dimension "d97" = 5
  dimension "d98" = 5
  dimension "d99" = 5
  dimension "d100" = 5
  dimension "d101" = 5
  dimension "d102" = 5
  dimension "d103" = 40.5
  dimension "d104" = 20.5
  dimension "d105" = 4.5
  dimension "d106" = 4.5
  dimension "d107" = 5
  dimension "d108" = 5
  dimension "d109" = 5
  dimension "d110" = 5
  dimension "d111" = 5
  dimension "d112" = 5
  dimension "d113" = 5
extrude "Extrusion2" cut sketch "Sketch2" against normal blind 10 contours A29 | A28 | A31 | A30 | A21 | A20 | A23 | A22 | A35 | A34 | A33 | A32 | A18 | A19 | A17 | A16 | A13 | A12 | A14 | A15 | A25 | A24 | A27 | A26
fillet "Fillet1" radius 5 12 edges at (-59.1421, 2.5, 146.3654) (-86.3657, 2.5, 119.1418) (59.1421, 2.5, 146.3654) (86.3657, 2.5, 119.1418) (119.5, 2.5, 19.25) (119.5, 2.5, -19.25) (86.3654, 2.5, -119.1422) (59.1418, 2.5, -146.3657) (-59.1422, 2.5, -146.3654) (-86.3657, 2.5, -119.1418) (-119.5, 2.5, -19.25) (-119.5, 2.5, 19.25)
chamfer "Chamfer1" distance 5 angle 45 12 edges at (-24.1407, 2.5, 111.364) (24.1407, 2.5, 111.364) (51.364, 2.5, 84.14) (61, 2.5, 19.25) (61, 2.5, -19.25) (51.364, 2.5, -84.1401) (24.1401, 2.5, -111.364) (-24.1401, 2.5, -111.364) (-51.364, 2.5, -84.14) (-61, 2.5, -19.25) (-61, 2.5, 19.25) (-51.364, 2.5, 84.1401)
properties part number "Upper Chassis Plate" material "Polycarbonate, Smoke"
